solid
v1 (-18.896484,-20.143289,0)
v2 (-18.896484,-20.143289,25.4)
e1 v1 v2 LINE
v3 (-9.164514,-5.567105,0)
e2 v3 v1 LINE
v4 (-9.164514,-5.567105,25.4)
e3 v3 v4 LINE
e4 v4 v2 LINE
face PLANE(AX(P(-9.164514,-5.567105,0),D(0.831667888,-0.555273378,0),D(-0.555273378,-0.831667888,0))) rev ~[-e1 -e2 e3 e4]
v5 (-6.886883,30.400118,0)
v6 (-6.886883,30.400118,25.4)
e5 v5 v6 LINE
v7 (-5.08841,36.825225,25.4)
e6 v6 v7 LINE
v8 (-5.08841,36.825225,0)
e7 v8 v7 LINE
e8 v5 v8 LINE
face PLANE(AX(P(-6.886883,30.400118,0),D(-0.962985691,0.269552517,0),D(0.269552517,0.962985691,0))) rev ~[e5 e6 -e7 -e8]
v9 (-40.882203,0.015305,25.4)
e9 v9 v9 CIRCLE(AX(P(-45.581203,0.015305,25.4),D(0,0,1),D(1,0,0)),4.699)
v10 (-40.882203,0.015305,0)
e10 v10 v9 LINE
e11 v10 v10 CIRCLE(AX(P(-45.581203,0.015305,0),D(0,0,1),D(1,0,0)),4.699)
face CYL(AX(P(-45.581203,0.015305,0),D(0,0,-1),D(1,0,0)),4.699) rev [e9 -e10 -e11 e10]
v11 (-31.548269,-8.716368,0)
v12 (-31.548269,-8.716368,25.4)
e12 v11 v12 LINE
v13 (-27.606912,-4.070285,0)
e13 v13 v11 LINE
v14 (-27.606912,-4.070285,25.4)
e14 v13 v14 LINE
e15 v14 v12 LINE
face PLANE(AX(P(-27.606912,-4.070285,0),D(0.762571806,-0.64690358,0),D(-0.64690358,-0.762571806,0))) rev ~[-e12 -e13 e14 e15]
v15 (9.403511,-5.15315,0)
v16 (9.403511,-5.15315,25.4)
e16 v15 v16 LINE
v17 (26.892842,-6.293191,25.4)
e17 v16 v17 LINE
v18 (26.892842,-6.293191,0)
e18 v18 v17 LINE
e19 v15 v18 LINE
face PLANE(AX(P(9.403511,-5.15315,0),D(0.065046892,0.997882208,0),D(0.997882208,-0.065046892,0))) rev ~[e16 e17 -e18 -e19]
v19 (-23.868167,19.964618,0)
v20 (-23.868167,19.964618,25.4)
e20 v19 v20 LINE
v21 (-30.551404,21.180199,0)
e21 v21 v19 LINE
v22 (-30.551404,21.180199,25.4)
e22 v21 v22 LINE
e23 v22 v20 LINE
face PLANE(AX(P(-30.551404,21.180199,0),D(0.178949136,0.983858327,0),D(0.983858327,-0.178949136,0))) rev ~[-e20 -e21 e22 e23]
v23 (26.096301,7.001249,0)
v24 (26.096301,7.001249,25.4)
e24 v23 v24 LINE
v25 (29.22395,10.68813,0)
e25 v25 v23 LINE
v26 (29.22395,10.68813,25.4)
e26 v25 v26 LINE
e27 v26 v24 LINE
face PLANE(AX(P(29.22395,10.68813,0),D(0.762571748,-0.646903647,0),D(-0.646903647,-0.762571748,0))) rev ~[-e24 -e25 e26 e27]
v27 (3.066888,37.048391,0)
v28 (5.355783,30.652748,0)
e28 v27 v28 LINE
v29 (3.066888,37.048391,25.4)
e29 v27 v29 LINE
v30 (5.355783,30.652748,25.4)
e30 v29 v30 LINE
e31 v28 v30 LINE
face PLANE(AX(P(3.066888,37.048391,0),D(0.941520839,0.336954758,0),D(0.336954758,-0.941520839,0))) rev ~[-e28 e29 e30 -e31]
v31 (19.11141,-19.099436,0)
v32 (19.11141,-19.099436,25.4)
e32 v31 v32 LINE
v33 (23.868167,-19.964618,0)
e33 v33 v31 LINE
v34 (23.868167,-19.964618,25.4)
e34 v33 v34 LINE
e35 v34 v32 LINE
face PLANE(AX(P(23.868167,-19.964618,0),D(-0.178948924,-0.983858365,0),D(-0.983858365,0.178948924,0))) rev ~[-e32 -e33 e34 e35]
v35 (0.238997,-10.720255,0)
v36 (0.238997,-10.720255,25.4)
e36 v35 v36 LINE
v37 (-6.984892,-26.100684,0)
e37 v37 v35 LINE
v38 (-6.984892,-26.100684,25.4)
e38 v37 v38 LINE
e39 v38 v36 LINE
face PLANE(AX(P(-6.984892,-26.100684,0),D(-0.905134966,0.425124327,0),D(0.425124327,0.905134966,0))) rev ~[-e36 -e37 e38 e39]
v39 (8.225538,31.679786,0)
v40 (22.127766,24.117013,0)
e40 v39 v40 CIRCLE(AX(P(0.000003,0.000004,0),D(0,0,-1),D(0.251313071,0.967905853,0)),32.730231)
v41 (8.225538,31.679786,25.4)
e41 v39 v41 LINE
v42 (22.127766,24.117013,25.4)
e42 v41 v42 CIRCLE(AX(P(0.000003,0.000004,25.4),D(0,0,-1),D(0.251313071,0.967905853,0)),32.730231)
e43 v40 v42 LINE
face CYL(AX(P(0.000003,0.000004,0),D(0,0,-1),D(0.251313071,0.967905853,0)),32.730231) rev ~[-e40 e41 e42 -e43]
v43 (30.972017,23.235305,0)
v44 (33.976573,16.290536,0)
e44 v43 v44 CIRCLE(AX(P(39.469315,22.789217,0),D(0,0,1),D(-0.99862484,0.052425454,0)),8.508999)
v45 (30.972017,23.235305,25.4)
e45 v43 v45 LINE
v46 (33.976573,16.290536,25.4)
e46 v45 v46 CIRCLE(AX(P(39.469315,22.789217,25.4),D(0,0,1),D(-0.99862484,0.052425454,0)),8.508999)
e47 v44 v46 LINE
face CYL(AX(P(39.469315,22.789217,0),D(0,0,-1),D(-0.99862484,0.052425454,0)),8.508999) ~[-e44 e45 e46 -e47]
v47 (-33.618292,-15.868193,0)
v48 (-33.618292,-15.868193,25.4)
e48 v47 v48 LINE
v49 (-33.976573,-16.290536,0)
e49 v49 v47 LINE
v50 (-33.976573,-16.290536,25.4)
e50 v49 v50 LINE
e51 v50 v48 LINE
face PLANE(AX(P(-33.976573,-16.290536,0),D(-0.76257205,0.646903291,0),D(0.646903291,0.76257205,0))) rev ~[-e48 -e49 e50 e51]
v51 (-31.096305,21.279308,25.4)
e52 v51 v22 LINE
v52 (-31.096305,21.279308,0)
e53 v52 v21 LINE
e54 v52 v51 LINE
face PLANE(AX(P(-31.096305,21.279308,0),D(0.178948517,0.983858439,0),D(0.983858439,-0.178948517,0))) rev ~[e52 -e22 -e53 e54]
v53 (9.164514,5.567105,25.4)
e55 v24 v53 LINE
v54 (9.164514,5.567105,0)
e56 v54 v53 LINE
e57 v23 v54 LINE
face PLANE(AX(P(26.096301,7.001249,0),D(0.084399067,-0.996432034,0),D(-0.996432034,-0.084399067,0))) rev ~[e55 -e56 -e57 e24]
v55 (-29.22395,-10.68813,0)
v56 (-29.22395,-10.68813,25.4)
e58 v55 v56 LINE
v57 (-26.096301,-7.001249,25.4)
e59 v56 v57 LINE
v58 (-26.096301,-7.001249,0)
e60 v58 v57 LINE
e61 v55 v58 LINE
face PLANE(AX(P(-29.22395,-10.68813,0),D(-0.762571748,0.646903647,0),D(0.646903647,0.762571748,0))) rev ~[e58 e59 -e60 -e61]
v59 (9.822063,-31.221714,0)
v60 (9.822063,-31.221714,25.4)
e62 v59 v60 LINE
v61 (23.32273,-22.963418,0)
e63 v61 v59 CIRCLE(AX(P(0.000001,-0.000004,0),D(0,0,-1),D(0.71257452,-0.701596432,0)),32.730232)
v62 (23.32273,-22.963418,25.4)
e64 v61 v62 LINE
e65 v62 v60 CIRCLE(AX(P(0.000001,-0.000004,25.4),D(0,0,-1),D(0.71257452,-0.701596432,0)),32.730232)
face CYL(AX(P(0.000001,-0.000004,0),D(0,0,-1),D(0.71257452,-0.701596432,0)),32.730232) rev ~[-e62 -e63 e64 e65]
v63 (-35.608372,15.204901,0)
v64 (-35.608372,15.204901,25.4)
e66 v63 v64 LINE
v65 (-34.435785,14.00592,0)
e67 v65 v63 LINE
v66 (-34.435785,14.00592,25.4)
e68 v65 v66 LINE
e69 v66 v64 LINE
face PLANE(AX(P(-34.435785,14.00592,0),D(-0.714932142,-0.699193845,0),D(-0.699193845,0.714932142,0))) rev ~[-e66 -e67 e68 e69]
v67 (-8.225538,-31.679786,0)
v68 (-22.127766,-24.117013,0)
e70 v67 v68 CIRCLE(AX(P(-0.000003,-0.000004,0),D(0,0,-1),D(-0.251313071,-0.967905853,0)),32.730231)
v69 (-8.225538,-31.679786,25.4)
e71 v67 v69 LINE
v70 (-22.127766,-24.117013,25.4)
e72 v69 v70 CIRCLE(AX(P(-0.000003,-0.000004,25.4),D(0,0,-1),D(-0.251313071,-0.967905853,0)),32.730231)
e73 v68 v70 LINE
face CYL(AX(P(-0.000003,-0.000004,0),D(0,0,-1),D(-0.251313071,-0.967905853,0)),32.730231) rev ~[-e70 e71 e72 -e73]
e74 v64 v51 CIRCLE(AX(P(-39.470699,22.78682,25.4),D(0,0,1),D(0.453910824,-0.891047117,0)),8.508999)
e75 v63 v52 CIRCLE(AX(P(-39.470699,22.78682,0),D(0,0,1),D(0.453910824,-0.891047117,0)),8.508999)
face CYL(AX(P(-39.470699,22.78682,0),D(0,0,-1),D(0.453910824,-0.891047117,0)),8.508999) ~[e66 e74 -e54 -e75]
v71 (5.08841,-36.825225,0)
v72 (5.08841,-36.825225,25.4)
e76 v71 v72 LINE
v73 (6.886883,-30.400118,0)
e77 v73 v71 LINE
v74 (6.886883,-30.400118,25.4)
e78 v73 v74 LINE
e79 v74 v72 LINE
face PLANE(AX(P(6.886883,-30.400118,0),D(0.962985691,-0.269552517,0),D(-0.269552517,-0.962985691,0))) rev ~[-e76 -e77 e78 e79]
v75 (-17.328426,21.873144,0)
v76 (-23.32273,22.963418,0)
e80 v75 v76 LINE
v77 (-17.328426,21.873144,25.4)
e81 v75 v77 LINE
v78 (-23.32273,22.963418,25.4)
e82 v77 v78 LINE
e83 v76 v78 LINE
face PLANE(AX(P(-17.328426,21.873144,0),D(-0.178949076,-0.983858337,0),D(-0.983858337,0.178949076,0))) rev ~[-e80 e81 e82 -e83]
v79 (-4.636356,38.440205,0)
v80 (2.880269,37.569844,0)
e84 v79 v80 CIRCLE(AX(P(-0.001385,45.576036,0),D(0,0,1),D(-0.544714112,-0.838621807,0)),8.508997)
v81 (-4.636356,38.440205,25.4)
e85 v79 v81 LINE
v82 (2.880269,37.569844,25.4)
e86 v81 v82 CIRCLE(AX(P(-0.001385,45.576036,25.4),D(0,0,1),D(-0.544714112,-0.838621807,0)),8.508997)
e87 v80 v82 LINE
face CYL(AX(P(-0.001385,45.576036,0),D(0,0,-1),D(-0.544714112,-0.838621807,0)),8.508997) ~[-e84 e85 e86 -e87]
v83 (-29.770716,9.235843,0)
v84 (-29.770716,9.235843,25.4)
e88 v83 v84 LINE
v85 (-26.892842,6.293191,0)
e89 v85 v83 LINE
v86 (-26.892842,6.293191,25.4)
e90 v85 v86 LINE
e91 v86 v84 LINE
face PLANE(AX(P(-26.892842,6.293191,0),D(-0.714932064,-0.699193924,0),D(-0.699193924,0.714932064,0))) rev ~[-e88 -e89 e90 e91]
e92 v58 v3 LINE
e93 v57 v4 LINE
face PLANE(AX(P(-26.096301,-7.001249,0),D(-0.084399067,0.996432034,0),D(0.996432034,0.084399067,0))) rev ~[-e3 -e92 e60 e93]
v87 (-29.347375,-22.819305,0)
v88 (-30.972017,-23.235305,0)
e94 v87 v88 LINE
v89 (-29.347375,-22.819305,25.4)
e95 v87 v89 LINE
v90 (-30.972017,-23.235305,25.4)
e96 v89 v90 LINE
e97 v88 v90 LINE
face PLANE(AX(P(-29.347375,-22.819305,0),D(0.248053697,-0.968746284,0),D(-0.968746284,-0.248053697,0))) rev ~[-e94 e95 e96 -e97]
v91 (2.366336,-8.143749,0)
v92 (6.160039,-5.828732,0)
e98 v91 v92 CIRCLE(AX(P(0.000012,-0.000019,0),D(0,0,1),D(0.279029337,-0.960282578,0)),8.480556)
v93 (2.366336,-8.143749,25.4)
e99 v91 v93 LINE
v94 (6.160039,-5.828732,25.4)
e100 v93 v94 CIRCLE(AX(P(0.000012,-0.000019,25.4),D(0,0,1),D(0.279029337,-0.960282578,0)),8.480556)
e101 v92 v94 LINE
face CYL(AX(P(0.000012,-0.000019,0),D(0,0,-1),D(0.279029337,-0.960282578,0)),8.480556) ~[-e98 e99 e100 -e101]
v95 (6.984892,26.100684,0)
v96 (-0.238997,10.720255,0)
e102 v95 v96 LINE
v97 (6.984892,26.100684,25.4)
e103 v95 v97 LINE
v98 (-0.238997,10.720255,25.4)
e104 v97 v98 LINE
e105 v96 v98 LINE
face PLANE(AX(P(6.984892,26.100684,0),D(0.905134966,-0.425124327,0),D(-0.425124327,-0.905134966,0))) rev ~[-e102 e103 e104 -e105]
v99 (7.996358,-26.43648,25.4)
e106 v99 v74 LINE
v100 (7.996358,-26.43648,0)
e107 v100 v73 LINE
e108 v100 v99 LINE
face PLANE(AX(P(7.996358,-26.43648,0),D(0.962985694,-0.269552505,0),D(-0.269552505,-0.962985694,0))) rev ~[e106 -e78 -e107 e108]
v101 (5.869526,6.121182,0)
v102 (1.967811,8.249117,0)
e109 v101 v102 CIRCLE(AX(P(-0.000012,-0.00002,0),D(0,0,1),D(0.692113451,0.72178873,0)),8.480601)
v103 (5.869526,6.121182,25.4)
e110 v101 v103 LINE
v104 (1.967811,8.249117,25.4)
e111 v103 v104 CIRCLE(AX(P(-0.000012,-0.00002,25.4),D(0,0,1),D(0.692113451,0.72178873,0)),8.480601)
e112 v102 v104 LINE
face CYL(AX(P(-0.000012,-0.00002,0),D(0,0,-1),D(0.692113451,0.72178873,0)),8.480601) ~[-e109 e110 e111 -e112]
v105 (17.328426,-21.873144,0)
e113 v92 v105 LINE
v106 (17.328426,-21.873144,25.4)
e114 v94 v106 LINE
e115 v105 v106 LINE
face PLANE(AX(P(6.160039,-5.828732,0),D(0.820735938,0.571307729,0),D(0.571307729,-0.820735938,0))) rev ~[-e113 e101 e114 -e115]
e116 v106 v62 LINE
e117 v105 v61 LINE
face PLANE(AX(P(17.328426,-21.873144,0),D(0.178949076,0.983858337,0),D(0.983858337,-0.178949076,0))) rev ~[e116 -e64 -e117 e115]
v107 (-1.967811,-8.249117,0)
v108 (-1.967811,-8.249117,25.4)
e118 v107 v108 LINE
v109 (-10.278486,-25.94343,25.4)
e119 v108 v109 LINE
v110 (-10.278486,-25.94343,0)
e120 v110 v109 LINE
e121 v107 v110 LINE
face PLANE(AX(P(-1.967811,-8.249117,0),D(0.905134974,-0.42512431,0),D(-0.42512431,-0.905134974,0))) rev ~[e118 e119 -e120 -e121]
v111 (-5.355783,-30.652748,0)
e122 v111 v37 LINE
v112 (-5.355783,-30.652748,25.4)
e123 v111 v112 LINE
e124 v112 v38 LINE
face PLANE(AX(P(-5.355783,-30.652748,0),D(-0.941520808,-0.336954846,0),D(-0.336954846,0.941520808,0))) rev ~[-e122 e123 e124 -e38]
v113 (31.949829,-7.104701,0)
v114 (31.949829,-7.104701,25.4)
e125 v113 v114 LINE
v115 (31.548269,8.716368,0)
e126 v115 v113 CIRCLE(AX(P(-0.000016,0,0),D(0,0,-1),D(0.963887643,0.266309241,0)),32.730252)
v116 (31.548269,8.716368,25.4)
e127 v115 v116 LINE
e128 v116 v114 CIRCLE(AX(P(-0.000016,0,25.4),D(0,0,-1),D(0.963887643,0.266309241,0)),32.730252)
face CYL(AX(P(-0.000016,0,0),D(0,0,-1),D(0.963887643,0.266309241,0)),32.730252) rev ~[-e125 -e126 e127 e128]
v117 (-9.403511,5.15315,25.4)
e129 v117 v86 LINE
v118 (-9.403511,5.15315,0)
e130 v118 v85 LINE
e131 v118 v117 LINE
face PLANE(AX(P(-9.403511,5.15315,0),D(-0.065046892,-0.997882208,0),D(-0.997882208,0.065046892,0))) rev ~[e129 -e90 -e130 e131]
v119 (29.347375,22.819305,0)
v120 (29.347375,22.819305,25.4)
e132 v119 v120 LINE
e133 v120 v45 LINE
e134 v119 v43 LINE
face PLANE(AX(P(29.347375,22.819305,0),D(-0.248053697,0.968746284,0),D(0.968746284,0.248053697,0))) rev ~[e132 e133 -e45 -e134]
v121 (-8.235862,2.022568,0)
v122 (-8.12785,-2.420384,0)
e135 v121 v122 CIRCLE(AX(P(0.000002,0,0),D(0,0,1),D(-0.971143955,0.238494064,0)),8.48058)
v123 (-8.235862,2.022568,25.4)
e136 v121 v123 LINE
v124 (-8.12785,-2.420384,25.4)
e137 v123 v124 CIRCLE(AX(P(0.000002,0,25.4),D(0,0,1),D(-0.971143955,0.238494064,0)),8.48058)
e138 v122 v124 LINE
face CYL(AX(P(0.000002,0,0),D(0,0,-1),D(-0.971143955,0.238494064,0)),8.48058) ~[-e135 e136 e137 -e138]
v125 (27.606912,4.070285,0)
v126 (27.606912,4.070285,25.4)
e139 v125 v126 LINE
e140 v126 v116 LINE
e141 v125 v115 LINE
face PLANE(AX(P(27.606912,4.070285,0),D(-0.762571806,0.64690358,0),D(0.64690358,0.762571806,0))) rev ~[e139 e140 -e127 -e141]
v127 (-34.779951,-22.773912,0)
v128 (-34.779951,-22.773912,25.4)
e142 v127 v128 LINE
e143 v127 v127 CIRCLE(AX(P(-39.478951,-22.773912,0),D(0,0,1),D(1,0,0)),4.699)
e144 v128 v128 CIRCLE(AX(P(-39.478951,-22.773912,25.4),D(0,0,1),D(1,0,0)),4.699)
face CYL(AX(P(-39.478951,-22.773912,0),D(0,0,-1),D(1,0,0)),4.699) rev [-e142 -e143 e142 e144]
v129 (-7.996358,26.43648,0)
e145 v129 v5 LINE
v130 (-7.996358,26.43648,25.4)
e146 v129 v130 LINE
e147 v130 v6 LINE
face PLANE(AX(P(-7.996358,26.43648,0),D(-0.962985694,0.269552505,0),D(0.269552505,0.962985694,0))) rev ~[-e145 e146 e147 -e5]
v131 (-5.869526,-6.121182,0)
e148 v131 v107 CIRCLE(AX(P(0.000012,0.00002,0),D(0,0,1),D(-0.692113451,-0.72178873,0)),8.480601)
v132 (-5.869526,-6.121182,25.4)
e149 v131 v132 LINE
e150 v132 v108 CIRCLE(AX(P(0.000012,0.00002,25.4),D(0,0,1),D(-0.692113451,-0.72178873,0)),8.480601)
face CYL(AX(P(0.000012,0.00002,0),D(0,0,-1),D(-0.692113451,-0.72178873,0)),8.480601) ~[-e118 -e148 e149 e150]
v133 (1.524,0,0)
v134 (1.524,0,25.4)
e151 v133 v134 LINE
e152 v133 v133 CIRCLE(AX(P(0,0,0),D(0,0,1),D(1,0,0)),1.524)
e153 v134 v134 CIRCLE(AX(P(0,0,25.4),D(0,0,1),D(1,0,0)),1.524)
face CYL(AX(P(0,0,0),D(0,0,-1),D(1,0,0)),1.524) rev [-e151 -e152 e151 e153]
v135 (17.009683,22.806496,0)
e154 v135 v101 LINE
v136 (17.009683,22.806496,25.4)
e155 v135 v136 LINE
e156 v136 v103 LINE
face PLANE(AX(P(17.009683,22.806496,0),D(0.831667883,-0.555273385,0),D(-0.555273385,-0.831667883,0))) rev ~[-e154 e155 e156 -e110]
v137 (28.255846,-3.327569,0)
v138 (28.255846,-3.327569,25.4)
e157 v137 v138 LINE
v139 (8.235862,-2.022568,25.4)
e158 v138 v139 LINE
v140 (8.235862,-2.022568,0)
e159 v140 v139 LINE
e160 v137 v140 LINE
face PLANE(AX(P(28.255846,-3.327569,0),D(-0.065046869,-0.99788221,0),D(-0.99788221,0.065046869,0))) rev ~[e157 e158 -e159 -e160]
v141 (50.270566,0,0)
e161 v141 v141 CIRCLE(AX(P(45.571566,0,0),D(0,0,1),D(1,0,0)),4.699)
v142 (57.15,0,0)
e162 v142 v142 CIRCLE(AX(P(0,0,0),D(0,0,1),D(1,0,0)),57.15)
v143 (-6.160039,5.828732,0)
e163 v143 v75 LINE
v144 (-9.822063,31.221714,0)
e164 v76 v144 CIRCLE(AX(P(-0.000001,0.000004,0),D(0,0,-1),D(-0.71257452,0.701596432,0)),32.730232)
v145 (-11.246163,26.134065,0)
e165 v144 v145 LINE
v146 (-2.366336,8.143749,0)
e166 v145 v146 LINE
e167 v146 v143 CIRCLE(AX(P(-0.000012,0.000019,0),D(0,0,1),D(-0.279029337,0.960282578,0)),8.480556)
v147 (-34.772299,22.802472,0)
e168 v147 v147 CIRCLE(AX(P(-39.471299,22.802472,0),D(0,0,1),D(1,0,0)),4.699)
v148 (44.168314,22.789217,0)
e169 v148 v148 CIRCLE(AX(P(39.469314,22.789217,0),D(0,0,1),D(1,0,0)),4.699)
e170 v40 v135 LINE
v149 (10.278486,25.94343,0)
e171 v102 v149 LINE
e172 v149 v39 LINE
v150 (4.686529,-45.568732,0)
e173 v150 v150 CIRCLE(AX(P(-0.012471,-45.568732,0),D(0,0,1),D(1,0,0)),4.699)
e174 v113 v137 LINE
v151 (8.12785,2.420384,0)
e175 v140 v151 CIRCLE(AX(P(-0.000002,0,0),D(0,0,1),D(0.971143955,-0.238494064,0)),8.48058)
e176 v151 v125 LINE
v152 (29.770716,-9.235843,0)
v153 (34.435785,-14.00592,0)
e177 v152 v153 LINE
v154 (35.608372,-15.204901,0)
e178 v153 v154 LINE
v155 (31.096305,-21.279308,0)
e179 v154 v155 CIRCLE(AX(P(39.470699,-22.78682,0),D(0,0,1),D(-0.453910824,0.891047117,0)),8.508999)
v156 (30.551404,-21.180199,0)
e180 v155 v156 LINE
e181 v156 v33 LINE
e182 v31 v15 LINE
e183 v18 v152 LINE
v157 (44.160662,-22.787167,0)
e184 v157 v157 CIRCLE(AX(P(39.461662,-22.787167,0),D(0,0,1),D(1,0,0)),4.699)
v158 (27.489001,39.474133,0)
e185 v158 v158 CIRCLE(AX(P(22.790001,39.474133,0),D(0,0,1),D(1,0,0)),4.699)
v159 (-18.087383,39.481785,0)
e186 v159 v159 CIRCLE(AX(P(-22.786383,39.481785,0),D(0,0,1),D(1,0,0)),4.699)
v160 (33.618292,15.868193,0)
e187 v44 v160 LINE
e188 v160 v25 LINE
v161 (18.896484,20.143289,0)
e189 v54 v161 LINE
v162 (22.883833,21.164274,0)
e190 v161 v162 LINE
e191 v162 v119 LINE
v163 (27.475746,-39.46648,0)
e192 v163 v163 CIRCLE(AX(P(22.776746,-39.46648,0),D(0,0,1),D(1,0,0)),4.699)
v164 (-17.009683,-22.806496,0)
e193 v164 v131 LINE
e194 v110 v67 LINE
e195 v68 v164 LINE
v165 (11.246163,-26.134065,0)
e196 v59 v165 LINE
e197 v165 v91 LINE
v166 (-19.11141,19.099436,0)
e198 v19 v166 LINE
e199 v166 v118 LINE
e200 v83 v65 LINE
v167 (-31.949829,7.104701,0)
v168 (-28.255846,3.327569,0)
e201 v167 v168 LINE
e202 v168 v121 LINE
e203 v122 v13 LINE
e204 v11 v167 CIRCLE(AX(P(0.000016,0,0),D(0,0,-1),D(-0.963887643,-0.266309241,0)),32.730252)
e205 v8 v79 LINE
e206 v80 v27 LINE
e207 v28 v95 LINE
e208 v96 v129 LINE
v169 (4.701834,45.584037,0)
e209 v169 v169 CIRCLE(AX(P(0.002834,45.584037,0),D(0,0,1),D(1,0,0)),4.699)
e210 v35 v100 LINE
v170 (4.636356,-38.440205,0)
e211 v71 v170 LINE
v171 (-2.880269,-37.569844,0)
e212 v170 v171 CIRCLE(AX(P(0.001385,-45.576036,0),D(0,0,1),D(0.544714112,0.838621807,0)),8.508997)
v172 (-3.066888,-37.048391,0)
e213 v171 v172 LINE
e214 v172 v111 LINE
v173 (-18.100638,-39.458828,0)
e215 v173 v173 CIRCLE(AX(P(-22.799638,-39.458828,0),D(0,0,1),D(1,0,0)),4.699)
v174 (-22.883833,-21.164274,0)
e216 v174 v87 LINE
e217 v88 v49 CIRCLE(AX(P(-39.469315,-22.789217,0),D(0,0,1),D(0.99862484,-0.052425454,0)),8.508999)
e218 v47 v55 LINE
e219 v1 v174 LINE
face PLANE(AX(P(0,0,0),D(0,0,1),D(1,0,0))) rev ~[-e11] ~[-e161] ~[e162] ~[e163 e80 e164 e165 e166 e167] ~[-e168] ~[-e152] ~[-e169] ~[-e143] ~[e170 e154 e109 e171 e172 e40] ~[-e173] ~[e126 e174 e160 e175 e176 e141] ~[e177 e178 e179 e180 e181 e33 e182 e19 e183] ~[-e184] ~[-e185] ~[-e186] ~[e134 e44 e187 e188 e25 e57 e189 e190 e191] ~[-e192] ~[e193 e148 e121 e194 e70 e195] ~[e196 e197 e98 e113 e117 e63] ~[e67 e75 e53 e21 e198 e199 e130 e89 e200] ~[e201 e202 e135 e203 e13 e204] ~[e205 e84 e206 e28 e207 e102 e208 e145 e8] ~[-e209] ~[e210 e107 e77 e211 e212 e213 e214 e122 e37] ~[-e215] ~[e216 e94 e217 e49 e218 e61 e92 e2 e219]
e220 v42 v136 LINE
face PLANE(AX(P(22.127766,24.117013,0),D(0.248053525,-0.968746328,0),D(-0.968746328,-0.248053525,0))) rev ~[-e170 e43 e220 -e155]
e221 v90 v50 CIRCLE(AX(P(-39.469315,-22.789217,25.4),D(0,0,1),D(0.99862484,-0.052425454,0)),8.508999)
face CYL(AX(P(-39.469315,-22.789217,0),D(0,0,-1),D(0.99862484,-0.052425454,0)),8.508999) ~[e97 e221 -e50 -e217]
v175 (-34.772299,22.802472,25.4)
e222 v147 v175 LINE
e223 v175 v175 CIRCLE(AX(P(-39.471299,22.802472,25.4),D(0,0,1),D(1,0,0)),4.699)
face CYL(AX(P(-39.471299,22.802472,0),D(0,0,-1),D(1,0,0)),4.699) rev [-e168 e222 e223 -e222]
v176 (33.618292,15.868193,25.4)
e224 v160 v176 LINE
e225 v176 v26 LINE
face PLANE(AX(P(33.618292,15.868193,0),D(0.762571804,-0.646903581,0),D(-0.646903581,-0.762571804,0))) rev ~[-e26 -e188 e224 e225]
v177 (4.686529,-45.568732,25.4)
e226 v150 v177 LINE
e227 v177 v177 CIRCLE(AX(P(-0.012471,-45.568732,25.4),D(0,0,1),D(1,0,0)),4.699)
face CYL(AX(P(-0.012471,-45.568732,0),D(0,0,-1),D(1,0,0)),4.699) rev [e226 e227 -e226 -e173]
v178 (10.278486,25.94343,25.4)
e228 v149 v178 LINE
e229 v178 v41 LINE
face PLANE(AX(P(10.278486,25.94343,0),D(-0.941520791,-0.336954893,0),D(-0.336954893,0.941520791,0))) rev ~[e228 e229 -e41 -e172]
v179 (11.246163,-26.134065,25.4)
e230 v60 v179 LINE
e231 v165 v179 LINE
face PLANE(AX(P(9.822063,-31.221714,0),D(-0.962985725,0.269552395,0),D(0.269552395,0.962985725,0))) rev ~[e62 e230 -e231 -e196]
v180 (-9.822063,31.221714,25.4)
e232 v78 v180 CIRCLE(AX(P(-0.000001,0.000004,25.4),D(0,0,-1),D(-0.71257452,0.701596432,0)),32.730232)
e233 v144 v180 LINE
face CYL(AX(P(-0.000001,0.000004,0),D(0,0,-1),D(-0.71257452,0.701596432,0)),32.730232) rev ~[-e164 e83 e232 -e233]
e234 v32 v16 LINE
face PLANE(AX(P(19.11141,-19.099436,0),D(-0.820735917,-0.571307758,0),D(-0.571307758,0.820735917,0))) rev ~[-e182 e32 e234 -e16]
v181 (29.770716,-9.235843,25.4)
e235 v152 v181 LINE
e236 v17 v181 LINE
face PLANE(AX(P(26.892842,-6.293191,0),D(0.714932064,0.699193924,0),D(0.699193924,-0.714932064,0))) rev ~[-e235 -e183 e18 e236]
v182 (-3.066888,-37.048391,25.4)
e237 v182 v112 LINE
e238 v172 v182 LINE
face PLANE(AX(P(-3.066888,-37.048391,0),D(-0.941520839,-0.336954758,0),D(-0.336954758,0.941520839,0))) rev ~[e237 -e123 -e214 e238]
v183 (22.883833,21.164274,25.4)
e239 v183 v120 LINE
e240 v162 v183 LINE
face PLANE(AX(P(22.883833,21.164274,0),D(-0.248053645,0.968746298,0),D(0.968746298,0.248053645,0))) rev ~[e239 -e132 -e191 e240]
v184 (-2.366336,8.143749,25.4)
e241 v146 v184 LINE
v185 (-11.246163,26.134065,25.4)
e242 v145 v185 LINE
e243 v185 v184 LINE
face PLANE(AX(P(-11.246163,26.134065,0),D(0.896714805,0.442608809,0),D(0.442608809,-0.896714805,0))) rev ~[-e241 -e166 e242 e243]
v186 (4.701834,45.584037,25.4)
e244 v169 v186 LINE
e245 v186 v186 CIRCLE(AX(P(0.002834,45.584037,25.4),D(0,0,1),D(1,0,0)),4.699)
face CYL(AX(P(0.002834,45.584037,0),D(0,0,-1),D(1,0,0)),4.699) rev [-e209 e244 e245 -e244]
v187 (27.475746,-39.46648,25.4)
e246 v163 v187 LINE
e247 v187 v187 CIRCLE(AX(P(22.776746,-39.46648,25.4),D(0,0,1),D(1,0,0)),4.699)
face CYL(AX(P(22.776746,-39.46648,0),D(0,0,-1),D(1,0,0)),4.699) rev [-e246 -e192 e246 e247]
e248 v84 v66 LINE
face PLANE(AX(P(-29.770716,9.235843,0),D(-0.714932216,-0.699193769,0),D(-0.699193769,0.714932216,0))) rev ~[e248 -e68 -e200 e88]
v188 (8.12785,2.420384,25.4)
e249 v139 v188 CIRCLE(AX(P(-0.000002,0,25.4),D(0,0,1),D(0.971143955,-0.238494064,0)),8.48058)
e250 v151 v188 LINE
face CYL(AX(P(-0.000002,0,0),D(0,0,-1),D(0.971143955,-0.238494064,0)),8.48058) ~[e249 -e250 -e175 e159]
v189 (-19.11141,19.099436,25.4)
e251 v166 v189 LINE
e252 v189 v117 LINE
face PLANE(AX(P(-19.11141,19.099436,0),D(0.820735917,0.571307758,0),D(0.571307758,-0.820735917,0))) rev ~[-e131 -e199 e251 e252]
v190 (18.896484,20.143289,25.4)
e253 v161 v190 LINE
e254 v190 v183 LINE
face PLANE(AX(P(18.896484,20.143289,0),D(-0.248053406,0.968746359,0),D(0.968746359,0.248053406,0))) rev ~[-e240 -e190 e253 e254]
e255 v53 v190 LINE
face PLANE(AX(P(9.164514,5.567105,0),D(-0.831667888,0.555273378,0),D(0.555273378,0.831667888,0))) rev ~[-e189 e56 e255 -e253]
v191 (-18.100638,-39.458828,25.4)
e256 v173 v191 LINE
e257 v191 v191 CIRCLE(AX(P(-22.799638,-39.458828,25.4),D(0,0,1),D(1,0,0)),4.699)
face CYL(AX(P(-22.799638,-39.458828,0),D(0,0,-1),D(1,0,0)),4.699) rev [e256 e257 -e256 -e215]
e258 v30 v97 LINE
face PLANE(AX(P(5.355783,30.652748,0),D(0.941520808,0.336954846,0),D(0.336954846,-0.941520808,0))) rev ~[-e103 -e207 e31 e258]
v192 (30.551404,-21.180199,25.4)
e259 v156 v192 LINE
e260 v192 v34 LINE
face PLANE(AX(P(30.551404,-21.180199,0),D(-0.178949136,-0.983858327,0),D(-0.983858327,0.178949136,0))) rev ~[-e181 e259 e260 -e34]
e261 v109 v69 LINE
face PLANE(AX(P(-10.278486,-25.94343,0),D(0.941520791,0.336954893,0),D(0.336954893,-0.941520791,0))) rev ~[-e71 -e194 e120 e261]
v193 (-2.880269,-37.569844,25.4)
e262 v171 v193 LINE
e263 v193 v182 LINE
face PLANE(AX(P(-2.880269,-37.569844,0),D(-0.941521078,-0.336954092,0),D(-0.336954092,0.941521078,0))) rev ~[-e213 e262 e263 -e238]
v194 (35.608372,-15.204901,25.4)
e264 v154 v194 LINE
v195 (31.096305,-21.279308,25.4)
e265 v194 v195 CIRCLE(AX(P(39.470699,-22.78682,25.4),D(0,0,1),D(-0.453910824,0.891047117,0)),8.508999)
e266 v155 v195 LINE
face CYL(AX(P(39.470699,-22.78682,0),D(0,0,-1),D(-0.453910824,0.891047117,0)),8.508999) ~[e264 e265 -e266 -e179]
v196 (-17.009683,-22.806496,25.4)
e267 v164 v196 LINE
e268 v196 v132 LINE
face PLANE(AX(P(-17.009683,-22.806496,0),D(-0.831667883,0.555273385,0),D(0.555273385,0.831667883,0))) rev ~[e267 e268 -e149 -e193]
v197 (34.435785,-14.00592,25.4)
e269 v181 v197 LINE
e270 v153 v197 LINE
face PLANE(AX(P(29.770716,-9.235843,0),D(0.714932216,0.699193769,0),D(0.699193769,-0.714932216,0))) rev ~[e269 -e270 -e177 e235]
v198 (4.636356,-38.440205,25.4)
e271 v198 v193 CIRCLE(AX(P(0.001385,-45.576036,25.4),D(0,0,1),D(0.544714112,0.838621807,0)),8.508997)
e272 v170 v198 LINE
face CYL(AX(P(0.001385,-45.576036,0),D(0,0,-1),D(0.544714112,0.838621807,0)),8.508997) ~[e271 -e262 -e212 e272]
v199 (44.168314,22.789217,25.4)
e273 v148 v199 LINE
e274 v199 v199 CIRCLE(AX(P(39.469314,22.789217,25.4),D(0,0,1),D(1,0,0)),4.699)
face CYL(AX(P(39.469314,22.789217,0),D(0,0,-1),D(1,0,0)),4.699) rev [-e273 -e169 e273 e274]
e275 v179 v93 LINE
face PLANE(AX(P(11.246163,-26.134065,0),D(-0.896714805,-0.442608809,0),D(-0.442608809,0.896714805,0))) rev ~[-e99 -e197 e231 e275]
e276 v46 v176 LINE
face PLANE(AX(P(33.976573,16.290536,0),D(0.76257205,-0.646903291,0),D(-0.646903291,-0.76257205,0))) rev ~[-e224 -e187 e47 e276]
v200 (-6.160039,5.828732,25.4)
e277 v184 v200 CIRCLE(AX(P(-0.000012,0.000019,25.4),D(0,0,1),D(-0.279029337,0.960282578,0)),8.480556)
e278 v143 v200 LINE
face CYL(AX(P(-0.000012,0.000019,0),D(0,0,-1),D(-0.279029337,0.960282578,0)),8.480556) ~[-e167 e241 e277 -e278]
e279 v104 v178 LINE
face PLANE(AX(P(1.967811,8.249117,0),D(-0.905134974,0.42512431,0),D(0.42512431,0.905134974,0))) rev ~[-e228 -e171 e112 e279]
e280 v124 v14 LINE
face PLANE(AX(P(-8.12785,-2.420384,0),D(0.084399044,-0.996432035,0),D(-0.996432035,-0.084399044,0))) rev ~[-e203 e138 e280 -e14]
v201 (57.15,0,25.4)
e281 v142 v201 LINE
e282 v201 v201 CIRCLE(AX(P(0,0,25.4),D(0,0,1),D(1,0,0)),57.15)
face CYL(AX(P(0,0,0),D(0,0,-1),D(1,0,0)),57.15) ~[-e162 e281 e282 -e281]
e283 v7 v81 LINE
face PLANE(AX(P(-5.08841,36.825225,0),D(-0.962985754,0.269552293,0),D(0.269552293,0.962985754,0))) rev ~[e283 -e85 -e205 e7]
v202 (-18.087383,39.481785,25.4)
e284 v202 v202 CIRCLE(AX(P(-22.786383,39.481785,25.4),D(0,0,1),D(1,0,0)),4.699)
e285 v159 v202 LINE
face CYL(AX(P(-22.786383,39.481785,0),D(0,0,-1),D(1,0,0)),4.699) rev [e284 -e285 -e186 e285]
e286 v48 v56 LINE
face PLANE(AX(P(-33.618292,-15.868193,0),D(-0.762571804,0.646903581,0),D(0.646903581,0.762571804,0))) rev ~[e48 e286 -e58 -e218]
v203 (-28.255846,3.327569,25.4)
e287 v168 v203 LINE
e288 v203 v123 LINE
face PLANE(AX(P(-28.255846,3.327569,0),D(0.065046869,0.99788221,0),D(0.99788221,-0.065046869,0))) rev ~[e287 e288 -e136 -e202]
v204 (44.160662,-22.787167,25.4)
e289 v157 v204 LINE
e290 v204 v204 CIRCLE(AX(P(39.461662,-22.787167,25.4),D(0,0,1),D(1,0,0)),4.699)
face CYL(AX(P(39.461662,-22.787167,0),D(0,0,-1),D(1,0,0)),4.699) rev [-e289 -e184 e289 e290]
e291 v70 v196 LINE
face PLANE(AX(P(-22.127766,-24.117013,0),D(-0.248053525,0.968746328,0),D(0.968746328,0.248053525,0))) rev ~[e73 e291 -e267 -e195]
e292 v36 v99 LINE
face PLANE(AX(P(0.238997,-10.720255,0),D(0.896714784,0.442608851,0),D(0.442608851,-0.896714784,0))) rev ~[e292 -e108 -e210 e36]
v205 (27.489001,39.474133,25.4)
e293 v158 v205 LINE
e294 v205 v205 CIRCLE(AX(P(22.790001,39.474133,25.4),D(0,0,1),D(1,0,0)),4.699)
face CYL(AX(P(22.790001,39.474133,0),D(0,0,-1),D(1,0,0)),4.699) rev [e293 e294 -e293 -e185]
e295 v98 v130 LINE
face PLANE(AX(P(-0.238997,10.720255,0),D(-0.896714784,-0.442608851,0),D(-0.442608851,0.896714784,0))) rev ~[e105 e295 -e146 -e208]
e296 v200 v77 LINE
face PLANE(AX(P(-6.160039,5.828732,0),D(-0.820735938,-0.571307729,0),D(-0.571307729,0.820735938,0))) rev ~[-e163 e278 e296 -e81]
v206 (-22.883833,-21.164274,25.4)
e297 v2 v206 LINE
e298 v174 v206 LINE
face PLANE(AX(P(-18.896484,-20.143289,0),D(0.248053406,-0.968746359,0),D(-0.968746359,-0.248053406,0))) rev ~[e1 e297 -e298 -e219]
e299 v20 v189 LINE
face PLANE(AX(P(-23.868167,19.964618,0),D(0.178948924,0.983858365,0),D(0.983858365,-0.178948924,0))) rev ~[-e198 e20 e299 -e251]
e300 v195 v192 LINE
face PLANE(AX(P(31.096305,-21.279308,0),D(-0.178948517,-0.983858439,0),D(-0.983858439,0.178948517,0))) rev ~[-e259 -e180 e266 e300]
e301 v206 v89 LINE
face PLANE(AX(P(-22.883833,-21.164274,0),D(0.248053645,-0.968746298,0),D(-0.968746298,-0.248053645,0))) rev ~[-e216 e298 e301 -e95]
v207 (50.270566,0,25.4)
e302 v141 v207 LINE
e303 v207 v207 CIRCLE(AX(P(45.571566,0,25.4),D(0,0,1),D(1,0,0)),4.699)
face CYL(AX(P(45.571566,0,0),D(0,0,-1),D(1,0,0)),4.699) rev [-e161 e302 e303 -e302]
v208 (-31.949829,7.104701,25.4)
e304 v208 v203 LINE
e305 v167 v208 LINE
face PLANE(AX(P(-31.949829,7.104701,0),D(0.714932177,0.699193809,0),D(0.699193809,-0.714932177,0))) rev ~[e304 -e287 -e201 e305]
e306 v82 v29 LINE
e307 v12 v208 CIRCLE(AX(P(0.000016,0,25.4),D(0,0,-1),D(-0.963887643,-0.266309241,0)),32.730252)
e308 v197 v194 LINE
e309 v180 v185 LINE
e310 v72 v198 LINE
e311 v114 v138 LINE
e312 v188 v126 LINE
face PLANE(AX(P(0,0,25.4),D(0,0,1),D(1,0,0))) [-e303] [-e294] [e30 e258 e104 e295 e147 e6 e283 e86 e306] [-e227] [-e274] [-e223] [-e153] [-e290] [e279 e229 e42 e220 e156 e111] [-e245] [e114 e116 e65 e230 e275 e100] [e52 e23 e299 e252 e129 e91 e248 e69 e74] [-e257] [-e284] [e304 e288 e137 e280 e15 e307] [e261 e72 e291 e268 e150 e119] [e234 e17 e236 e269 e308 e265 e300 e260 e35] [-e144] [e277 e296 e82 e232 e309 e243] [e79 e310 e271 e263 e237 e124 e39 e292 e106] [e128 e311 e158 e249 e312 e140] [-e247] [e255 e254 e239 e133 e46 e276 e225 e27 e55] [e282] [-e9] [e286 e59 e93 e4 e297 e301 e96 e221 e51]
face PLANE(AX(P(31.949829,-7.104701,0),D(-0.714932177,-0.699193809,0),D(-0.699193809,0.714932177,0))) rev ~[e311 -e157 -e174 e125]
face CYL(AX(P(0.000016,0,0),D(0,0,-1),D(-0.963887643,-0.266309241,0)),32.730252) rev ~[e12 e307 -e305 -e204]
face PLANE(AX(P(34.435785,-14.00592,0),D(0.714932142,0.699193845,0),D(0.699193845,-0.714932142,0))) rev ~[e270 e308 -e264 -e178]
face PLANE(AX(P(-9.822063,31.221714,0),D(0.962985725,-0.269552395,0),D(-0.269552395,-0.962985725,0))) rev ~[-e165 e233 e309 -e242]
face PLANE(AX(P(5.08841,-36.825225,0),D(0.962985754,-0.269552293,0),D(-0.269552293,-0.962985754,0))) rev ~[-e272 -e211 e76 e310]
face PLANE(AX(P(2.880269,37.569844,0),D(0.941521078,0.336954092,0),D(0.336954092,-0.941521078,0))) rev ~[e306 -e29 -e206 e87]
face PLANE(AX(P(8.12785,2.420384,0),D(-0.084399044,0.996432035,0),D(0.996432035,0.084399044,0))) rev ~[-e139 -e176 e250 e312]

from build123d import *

# Parameters (mm, degrees)
F0_R     = 57.15
F0_R_2   = 4.699
F0_R_3   = 1.524
F1_DEPTH = 25.4


with BuildPart() as f1:
    # F0 (on Top) → F1 (new body)
    with BuildSketch(Plane.XY):
        Circle(F0_R)
        with Locations((-0.012471, -45.568732)):
            Circle(F0_R_2, mode=Mode.SUBTRACT)
        with Locations((-22.799638, -39.458828)):
            Circle(F0_R_2, mode=Mode.SUBTRACT)
        with Locations((-39.478951, -22.773912)):
            Circle(F0_R_2, mode=Mode.SUBTRACT)
        with BuildLine():
            Line((-9.164514, -5.567105), (-18.896484, -20.143289))
            Line((-18.896484, -20.143289), (-22.883833, -21.164274))
            Line((-22.883833, -21.164274), (-29.347375, -22.819305))
            Line((-29.347375, -22.819305), (-30.972017, -23.235305))
            ThreePointArc((-30.972017, -23.235305), (-31.659849, -19.410562), (-33.976573, -16.290536))
            Line((-33.976573, -16.290536), (-33.618292, -15.868193))
            Line((-33.618292, -15.868193), (-29.22395, -10.68813))
            Line((-29.22395, -10.68813), (-26.096301, -7.001249))
            Line((-26.096301, -7.001249), (-9.164514, -5.567105))
        make_face(mode=Mode.SUBTRACT)
        with BuildLine():
            Line((-17.009683, -22.806496), (-5.869526, -6.121182))
            ThreePointArc((-5.869526, -6.121182), (-4.06054, -7.445281), (-1.967811, -8.249117))
            Line((-1.967811, -8.249117), (-10.278486, -25.94343))
            Line((-10.278486, -25.94343), (-8.225538, -31.679786))
            ThreePointArc((-8.225538, -31.679786), (-15.640641, -28.751325), (-22.127766, -24.117013))
            Line((-22.127766, -24.117013), (-17.009683, -22.806496))
        make_face(mode=Mode.SUBTRACT)
        with BuildLine():
            Line((-28.255846, 3.327569), (-8.235862, 2.022568))
            ThreePointArc((-8.235862, 2.022568), (-8.478073, -0.20611), (-8.12785, -2.420384))
            Line((-8.12785, -2.420384), (-27.606912, -4.070285))
            Line((-27.606912, -4.070285), (-31.548269, -8.716368))
            ThreePointArc((-31.548269, -8.716368), (-32.719698, -0.83047), (-31.949829, 7.104701))
            Line((-31.949829, 7.104701), (-28.255846, 3.327569))
        make_face(mode=Mode.SUBTRACT)
        with Locations((22.776746, -39.46648)):
            Circle(F0_R_2, mode=Mode.SUBTRACT)
        with BuildLine():
            Line((0.238997, -10.720255), (7.996358, -26.43648))
            Line((7.996358, -26.43648), (6.886883, -30.400118))
            Line((6.886883, -30.400118), (5.08841, -36.825225))
            Line((5.08841, -36.825225), (4.636356, -38.440205))
            ThreePointArc((4.636356, -38.440205), (0.980115, -37.123514), (-2.880269, -37.569844))
            Line((-2.880269, -37.569844), (-3.066888, -37.048391))
            Line((-3.066888, -37.048391), (-5.355783, -30.652748))
            Line((-5.355783, -30.652748), (-6.984892, -26.100684))
            Line((-6.984892, -26.100684), (0.238997, -10.720255))
        make_face(mode=Mode.SUBTRACT)
        with BuildLine():
            Line((11.246163, -26.134065), (2.366336, -8.143749))
            ThreePointArc((2.366336, -8.143749), (4.417533, -7.239172), (6.160039, -5.828732))
            Line((6.160039, -5.828732), (17.328426, -21.873144))
            Line((17.328426, -21.873144), (23.32273, -22.963418))
            ThreePointArc((23.32273, -22.963418), (17.079057, -27.920855), (9.822063, -31.221714))
            Line((9.822063, -31.221714), (11.246163, -26.134065))
        make_face(mode=Mode.SUBTRACT)
        with BuildLine():
            Line((9.403511, -5.15315), (26.892842, -6.293191))
            Line((26.892842, -6.293191), (29.770716, -9.235843))
            Line((29.770716, -9.235843), (34.435785, -14.00592))
            Line((34.435785, -14.00592), (35.608372, -15.204901))
            ThreePointArc((35.608372, -15.204901), (32.639964, -17.712953), (31.096305, -21.279308))
            Line((31.096305, -21.279308), (30.551404, -21.180199))
            Line((30.551404, -21.180199), (23.868167, -19.964618))
            Line((23.868167, -19.964618), (19.11141, -19.099436))
            Line((19.11141, -19.099436), (9.403511, -5.15315))
        make_face(mode=Mode.SUBTRACT)
        with Locations((39.461662, -22.787167)):
            Circle(F0_R_2, mode=Mode.SUBTRACT)
        with Locations((-45.581203, 0.015305)):
            Circle(F0_R_2, mode=Mode.SUBTRACT)
        with Locations((-39.471299, 22.802472)):
            Circle(F0_R_2, mode=Mode.SUBTRACT)
        with BuildLine():
            Line((-9.403511, 5.15315), (-26.892842, 6.293191))
            Line((-26.892842, 6.293191), (-29.770716, 9.235843))
            Line((-29.770716, 9.235843), (-34.435785, 14.00592))
            Line((-34.435785, 14.00592), (-35.608372, 15.204901))
            ThreePointArc((-35.608372, 15.204901), (-32.639964, 17.712953), (-31.096305, 21.279308))
            Line((-31.096305, 21.279308), (-30.551404, 21.180199))
            Line((-30.551404, 21.180199), (-23.868167, 19.964618))
            Line((-23.868167, 19.964618), (-19.11141, 19.099436))
            Line((-19.11141, 19.099436), (-9.403511, 5.15315))
        make_face(mode=Mode.SUBTRACT)
        with BuildLine():
            Line((-11.246163, 26.134065), (-2.366336, 8.143749))
            ThreePointArc((-2.366336, 8.143749), (-4.417533, 7.239172), (-6.160039, 5.828732))
            Line((-6.160039, 5.828732), (-17.328426, 21.873144))
            Line((-17.328426, 21.873144), (-23.32273, 22.963418))
            ThreePointArc((-23.32273, 22.963418), (-17.079057, 27.920855), (-9.822063, 31.221714))
            Line((-9.822063, 31.221714), (-11.246163, 26.134065))
        make_face(mode=Mode.SUBTRACT)
        with BuildLine():
            Line((-0.238997, 10.720255), (-7.996358, 26.43648))
            Line((-7.996358, 26.43648), (-6.886883, 30.400118))
            Line((-6.886883, 30.400118), (-5.08841, 36.825225))
            Line((-5.08841, 36.825225), (-4.636356, 38.440205))
            ThreePointArc((-4.636356, 38.440205), (-0.980115, 37.123514), (2.880269, 37.569844))
            Line((2.880269, 37.569844), (3.066888, 37.048391))
            Line((3.066888, 37.048391), (5.355783, 30.652748))
            Line((5.355783, 30.652748), (6.984892, 26.100684))
            Line((6.984892, 26.100684), (-0.238997, 10.720255))
        make_face(mode=Mode.SUBTRACT)
        with Locations((-22.786383, 39.481785)):
            Circle(F0_R_2, mode=Mode.SUBTRACT)
        Circle(F0_R_3, mode=Mode.SUBTRACT)
        with BuildLine():
            Line((28.255846, -3.327569), (8.235862, -2.022568))
            ThreePointArc((8.235862, -2.022568), (8.478073, 0.20611), (8.12785, 2.420384))
            Line((8.12785, 2.420384), (27.606912, 4.070285))
            Line((27.606912, 4.070285), (31.548269, 8.716368))
            ThreePointArc((31.548269, 8.716368), (32.719698, 0.83047), (31.949829, -7.104701))
            Line((31.949829, -7.104701), (28.255846, -3.327569))
        make_face(mode=Mode.SUBTRACT)
        with BuildLine():
            Line((17.009683, 22.806496), (5.869526, 6.121182))
            ThreePointArc((5.869526, 6.121182), (4.06054, 7.445281), (1.967811, 8.249117))
            Line((1.967811, 8.249117), (10.278486, 25.94343))
            Line((10.278486, 25.94343), (8.225538, 31.679786))
            ThreePointArc((8.225538, 31.679786), (15.640641, 28.751325), (22.127766, 24.117013))
            Line((22.127766, 24.117013), (17.009683, 22.806496))
        make_face(mode=Mode.SUBTRACT)
        with BuildLine():
            Line((9.164514, 5.567105), (18.896484, 20.143289))
            Line((18.896484, 20.143289), (22.883833, 21.164274))
            Line((22.883833, 21.164274), (29.347375, 22.819305))
            Line((29.347375, 22.819305), (30.972017, 23.235305))
            ThreePointArc((30.972017, 23.235305), (31.659849, 19.410562), (33.976573, 16.290536))
            Line((33.976573, 16.290536), (33.618292, 15.868193))
            Line((33.618292, 15.868193), (29.22395, 10.68813))
            Line((29.22395, 10.68813), (26.096301, 7.001249))
            Line((26.096301, 7.001249), (9.164514, 5.567105))
        make_face(mode=Mode.SUBTRACT)
        with Locations((45.571566, 0)):
            Circle(F0_R_2, mode=Mode.SUBTRACT)
        with Locations((39.469314, 22.789217)):
            Circle(F0_R_2, mode=Mode.SUBTRACT)
        with Locations((22.790001, 39.474133)):
            Circle(F0_R_2, mode=Mode.SUBTRACT)
        with Locations((0.002834, 45.584037)):
            Circle(F0_R_2, mode=Mode.SUBTRACT)
    extrude(amount=F1_DEPTH)


solid = f1.part
